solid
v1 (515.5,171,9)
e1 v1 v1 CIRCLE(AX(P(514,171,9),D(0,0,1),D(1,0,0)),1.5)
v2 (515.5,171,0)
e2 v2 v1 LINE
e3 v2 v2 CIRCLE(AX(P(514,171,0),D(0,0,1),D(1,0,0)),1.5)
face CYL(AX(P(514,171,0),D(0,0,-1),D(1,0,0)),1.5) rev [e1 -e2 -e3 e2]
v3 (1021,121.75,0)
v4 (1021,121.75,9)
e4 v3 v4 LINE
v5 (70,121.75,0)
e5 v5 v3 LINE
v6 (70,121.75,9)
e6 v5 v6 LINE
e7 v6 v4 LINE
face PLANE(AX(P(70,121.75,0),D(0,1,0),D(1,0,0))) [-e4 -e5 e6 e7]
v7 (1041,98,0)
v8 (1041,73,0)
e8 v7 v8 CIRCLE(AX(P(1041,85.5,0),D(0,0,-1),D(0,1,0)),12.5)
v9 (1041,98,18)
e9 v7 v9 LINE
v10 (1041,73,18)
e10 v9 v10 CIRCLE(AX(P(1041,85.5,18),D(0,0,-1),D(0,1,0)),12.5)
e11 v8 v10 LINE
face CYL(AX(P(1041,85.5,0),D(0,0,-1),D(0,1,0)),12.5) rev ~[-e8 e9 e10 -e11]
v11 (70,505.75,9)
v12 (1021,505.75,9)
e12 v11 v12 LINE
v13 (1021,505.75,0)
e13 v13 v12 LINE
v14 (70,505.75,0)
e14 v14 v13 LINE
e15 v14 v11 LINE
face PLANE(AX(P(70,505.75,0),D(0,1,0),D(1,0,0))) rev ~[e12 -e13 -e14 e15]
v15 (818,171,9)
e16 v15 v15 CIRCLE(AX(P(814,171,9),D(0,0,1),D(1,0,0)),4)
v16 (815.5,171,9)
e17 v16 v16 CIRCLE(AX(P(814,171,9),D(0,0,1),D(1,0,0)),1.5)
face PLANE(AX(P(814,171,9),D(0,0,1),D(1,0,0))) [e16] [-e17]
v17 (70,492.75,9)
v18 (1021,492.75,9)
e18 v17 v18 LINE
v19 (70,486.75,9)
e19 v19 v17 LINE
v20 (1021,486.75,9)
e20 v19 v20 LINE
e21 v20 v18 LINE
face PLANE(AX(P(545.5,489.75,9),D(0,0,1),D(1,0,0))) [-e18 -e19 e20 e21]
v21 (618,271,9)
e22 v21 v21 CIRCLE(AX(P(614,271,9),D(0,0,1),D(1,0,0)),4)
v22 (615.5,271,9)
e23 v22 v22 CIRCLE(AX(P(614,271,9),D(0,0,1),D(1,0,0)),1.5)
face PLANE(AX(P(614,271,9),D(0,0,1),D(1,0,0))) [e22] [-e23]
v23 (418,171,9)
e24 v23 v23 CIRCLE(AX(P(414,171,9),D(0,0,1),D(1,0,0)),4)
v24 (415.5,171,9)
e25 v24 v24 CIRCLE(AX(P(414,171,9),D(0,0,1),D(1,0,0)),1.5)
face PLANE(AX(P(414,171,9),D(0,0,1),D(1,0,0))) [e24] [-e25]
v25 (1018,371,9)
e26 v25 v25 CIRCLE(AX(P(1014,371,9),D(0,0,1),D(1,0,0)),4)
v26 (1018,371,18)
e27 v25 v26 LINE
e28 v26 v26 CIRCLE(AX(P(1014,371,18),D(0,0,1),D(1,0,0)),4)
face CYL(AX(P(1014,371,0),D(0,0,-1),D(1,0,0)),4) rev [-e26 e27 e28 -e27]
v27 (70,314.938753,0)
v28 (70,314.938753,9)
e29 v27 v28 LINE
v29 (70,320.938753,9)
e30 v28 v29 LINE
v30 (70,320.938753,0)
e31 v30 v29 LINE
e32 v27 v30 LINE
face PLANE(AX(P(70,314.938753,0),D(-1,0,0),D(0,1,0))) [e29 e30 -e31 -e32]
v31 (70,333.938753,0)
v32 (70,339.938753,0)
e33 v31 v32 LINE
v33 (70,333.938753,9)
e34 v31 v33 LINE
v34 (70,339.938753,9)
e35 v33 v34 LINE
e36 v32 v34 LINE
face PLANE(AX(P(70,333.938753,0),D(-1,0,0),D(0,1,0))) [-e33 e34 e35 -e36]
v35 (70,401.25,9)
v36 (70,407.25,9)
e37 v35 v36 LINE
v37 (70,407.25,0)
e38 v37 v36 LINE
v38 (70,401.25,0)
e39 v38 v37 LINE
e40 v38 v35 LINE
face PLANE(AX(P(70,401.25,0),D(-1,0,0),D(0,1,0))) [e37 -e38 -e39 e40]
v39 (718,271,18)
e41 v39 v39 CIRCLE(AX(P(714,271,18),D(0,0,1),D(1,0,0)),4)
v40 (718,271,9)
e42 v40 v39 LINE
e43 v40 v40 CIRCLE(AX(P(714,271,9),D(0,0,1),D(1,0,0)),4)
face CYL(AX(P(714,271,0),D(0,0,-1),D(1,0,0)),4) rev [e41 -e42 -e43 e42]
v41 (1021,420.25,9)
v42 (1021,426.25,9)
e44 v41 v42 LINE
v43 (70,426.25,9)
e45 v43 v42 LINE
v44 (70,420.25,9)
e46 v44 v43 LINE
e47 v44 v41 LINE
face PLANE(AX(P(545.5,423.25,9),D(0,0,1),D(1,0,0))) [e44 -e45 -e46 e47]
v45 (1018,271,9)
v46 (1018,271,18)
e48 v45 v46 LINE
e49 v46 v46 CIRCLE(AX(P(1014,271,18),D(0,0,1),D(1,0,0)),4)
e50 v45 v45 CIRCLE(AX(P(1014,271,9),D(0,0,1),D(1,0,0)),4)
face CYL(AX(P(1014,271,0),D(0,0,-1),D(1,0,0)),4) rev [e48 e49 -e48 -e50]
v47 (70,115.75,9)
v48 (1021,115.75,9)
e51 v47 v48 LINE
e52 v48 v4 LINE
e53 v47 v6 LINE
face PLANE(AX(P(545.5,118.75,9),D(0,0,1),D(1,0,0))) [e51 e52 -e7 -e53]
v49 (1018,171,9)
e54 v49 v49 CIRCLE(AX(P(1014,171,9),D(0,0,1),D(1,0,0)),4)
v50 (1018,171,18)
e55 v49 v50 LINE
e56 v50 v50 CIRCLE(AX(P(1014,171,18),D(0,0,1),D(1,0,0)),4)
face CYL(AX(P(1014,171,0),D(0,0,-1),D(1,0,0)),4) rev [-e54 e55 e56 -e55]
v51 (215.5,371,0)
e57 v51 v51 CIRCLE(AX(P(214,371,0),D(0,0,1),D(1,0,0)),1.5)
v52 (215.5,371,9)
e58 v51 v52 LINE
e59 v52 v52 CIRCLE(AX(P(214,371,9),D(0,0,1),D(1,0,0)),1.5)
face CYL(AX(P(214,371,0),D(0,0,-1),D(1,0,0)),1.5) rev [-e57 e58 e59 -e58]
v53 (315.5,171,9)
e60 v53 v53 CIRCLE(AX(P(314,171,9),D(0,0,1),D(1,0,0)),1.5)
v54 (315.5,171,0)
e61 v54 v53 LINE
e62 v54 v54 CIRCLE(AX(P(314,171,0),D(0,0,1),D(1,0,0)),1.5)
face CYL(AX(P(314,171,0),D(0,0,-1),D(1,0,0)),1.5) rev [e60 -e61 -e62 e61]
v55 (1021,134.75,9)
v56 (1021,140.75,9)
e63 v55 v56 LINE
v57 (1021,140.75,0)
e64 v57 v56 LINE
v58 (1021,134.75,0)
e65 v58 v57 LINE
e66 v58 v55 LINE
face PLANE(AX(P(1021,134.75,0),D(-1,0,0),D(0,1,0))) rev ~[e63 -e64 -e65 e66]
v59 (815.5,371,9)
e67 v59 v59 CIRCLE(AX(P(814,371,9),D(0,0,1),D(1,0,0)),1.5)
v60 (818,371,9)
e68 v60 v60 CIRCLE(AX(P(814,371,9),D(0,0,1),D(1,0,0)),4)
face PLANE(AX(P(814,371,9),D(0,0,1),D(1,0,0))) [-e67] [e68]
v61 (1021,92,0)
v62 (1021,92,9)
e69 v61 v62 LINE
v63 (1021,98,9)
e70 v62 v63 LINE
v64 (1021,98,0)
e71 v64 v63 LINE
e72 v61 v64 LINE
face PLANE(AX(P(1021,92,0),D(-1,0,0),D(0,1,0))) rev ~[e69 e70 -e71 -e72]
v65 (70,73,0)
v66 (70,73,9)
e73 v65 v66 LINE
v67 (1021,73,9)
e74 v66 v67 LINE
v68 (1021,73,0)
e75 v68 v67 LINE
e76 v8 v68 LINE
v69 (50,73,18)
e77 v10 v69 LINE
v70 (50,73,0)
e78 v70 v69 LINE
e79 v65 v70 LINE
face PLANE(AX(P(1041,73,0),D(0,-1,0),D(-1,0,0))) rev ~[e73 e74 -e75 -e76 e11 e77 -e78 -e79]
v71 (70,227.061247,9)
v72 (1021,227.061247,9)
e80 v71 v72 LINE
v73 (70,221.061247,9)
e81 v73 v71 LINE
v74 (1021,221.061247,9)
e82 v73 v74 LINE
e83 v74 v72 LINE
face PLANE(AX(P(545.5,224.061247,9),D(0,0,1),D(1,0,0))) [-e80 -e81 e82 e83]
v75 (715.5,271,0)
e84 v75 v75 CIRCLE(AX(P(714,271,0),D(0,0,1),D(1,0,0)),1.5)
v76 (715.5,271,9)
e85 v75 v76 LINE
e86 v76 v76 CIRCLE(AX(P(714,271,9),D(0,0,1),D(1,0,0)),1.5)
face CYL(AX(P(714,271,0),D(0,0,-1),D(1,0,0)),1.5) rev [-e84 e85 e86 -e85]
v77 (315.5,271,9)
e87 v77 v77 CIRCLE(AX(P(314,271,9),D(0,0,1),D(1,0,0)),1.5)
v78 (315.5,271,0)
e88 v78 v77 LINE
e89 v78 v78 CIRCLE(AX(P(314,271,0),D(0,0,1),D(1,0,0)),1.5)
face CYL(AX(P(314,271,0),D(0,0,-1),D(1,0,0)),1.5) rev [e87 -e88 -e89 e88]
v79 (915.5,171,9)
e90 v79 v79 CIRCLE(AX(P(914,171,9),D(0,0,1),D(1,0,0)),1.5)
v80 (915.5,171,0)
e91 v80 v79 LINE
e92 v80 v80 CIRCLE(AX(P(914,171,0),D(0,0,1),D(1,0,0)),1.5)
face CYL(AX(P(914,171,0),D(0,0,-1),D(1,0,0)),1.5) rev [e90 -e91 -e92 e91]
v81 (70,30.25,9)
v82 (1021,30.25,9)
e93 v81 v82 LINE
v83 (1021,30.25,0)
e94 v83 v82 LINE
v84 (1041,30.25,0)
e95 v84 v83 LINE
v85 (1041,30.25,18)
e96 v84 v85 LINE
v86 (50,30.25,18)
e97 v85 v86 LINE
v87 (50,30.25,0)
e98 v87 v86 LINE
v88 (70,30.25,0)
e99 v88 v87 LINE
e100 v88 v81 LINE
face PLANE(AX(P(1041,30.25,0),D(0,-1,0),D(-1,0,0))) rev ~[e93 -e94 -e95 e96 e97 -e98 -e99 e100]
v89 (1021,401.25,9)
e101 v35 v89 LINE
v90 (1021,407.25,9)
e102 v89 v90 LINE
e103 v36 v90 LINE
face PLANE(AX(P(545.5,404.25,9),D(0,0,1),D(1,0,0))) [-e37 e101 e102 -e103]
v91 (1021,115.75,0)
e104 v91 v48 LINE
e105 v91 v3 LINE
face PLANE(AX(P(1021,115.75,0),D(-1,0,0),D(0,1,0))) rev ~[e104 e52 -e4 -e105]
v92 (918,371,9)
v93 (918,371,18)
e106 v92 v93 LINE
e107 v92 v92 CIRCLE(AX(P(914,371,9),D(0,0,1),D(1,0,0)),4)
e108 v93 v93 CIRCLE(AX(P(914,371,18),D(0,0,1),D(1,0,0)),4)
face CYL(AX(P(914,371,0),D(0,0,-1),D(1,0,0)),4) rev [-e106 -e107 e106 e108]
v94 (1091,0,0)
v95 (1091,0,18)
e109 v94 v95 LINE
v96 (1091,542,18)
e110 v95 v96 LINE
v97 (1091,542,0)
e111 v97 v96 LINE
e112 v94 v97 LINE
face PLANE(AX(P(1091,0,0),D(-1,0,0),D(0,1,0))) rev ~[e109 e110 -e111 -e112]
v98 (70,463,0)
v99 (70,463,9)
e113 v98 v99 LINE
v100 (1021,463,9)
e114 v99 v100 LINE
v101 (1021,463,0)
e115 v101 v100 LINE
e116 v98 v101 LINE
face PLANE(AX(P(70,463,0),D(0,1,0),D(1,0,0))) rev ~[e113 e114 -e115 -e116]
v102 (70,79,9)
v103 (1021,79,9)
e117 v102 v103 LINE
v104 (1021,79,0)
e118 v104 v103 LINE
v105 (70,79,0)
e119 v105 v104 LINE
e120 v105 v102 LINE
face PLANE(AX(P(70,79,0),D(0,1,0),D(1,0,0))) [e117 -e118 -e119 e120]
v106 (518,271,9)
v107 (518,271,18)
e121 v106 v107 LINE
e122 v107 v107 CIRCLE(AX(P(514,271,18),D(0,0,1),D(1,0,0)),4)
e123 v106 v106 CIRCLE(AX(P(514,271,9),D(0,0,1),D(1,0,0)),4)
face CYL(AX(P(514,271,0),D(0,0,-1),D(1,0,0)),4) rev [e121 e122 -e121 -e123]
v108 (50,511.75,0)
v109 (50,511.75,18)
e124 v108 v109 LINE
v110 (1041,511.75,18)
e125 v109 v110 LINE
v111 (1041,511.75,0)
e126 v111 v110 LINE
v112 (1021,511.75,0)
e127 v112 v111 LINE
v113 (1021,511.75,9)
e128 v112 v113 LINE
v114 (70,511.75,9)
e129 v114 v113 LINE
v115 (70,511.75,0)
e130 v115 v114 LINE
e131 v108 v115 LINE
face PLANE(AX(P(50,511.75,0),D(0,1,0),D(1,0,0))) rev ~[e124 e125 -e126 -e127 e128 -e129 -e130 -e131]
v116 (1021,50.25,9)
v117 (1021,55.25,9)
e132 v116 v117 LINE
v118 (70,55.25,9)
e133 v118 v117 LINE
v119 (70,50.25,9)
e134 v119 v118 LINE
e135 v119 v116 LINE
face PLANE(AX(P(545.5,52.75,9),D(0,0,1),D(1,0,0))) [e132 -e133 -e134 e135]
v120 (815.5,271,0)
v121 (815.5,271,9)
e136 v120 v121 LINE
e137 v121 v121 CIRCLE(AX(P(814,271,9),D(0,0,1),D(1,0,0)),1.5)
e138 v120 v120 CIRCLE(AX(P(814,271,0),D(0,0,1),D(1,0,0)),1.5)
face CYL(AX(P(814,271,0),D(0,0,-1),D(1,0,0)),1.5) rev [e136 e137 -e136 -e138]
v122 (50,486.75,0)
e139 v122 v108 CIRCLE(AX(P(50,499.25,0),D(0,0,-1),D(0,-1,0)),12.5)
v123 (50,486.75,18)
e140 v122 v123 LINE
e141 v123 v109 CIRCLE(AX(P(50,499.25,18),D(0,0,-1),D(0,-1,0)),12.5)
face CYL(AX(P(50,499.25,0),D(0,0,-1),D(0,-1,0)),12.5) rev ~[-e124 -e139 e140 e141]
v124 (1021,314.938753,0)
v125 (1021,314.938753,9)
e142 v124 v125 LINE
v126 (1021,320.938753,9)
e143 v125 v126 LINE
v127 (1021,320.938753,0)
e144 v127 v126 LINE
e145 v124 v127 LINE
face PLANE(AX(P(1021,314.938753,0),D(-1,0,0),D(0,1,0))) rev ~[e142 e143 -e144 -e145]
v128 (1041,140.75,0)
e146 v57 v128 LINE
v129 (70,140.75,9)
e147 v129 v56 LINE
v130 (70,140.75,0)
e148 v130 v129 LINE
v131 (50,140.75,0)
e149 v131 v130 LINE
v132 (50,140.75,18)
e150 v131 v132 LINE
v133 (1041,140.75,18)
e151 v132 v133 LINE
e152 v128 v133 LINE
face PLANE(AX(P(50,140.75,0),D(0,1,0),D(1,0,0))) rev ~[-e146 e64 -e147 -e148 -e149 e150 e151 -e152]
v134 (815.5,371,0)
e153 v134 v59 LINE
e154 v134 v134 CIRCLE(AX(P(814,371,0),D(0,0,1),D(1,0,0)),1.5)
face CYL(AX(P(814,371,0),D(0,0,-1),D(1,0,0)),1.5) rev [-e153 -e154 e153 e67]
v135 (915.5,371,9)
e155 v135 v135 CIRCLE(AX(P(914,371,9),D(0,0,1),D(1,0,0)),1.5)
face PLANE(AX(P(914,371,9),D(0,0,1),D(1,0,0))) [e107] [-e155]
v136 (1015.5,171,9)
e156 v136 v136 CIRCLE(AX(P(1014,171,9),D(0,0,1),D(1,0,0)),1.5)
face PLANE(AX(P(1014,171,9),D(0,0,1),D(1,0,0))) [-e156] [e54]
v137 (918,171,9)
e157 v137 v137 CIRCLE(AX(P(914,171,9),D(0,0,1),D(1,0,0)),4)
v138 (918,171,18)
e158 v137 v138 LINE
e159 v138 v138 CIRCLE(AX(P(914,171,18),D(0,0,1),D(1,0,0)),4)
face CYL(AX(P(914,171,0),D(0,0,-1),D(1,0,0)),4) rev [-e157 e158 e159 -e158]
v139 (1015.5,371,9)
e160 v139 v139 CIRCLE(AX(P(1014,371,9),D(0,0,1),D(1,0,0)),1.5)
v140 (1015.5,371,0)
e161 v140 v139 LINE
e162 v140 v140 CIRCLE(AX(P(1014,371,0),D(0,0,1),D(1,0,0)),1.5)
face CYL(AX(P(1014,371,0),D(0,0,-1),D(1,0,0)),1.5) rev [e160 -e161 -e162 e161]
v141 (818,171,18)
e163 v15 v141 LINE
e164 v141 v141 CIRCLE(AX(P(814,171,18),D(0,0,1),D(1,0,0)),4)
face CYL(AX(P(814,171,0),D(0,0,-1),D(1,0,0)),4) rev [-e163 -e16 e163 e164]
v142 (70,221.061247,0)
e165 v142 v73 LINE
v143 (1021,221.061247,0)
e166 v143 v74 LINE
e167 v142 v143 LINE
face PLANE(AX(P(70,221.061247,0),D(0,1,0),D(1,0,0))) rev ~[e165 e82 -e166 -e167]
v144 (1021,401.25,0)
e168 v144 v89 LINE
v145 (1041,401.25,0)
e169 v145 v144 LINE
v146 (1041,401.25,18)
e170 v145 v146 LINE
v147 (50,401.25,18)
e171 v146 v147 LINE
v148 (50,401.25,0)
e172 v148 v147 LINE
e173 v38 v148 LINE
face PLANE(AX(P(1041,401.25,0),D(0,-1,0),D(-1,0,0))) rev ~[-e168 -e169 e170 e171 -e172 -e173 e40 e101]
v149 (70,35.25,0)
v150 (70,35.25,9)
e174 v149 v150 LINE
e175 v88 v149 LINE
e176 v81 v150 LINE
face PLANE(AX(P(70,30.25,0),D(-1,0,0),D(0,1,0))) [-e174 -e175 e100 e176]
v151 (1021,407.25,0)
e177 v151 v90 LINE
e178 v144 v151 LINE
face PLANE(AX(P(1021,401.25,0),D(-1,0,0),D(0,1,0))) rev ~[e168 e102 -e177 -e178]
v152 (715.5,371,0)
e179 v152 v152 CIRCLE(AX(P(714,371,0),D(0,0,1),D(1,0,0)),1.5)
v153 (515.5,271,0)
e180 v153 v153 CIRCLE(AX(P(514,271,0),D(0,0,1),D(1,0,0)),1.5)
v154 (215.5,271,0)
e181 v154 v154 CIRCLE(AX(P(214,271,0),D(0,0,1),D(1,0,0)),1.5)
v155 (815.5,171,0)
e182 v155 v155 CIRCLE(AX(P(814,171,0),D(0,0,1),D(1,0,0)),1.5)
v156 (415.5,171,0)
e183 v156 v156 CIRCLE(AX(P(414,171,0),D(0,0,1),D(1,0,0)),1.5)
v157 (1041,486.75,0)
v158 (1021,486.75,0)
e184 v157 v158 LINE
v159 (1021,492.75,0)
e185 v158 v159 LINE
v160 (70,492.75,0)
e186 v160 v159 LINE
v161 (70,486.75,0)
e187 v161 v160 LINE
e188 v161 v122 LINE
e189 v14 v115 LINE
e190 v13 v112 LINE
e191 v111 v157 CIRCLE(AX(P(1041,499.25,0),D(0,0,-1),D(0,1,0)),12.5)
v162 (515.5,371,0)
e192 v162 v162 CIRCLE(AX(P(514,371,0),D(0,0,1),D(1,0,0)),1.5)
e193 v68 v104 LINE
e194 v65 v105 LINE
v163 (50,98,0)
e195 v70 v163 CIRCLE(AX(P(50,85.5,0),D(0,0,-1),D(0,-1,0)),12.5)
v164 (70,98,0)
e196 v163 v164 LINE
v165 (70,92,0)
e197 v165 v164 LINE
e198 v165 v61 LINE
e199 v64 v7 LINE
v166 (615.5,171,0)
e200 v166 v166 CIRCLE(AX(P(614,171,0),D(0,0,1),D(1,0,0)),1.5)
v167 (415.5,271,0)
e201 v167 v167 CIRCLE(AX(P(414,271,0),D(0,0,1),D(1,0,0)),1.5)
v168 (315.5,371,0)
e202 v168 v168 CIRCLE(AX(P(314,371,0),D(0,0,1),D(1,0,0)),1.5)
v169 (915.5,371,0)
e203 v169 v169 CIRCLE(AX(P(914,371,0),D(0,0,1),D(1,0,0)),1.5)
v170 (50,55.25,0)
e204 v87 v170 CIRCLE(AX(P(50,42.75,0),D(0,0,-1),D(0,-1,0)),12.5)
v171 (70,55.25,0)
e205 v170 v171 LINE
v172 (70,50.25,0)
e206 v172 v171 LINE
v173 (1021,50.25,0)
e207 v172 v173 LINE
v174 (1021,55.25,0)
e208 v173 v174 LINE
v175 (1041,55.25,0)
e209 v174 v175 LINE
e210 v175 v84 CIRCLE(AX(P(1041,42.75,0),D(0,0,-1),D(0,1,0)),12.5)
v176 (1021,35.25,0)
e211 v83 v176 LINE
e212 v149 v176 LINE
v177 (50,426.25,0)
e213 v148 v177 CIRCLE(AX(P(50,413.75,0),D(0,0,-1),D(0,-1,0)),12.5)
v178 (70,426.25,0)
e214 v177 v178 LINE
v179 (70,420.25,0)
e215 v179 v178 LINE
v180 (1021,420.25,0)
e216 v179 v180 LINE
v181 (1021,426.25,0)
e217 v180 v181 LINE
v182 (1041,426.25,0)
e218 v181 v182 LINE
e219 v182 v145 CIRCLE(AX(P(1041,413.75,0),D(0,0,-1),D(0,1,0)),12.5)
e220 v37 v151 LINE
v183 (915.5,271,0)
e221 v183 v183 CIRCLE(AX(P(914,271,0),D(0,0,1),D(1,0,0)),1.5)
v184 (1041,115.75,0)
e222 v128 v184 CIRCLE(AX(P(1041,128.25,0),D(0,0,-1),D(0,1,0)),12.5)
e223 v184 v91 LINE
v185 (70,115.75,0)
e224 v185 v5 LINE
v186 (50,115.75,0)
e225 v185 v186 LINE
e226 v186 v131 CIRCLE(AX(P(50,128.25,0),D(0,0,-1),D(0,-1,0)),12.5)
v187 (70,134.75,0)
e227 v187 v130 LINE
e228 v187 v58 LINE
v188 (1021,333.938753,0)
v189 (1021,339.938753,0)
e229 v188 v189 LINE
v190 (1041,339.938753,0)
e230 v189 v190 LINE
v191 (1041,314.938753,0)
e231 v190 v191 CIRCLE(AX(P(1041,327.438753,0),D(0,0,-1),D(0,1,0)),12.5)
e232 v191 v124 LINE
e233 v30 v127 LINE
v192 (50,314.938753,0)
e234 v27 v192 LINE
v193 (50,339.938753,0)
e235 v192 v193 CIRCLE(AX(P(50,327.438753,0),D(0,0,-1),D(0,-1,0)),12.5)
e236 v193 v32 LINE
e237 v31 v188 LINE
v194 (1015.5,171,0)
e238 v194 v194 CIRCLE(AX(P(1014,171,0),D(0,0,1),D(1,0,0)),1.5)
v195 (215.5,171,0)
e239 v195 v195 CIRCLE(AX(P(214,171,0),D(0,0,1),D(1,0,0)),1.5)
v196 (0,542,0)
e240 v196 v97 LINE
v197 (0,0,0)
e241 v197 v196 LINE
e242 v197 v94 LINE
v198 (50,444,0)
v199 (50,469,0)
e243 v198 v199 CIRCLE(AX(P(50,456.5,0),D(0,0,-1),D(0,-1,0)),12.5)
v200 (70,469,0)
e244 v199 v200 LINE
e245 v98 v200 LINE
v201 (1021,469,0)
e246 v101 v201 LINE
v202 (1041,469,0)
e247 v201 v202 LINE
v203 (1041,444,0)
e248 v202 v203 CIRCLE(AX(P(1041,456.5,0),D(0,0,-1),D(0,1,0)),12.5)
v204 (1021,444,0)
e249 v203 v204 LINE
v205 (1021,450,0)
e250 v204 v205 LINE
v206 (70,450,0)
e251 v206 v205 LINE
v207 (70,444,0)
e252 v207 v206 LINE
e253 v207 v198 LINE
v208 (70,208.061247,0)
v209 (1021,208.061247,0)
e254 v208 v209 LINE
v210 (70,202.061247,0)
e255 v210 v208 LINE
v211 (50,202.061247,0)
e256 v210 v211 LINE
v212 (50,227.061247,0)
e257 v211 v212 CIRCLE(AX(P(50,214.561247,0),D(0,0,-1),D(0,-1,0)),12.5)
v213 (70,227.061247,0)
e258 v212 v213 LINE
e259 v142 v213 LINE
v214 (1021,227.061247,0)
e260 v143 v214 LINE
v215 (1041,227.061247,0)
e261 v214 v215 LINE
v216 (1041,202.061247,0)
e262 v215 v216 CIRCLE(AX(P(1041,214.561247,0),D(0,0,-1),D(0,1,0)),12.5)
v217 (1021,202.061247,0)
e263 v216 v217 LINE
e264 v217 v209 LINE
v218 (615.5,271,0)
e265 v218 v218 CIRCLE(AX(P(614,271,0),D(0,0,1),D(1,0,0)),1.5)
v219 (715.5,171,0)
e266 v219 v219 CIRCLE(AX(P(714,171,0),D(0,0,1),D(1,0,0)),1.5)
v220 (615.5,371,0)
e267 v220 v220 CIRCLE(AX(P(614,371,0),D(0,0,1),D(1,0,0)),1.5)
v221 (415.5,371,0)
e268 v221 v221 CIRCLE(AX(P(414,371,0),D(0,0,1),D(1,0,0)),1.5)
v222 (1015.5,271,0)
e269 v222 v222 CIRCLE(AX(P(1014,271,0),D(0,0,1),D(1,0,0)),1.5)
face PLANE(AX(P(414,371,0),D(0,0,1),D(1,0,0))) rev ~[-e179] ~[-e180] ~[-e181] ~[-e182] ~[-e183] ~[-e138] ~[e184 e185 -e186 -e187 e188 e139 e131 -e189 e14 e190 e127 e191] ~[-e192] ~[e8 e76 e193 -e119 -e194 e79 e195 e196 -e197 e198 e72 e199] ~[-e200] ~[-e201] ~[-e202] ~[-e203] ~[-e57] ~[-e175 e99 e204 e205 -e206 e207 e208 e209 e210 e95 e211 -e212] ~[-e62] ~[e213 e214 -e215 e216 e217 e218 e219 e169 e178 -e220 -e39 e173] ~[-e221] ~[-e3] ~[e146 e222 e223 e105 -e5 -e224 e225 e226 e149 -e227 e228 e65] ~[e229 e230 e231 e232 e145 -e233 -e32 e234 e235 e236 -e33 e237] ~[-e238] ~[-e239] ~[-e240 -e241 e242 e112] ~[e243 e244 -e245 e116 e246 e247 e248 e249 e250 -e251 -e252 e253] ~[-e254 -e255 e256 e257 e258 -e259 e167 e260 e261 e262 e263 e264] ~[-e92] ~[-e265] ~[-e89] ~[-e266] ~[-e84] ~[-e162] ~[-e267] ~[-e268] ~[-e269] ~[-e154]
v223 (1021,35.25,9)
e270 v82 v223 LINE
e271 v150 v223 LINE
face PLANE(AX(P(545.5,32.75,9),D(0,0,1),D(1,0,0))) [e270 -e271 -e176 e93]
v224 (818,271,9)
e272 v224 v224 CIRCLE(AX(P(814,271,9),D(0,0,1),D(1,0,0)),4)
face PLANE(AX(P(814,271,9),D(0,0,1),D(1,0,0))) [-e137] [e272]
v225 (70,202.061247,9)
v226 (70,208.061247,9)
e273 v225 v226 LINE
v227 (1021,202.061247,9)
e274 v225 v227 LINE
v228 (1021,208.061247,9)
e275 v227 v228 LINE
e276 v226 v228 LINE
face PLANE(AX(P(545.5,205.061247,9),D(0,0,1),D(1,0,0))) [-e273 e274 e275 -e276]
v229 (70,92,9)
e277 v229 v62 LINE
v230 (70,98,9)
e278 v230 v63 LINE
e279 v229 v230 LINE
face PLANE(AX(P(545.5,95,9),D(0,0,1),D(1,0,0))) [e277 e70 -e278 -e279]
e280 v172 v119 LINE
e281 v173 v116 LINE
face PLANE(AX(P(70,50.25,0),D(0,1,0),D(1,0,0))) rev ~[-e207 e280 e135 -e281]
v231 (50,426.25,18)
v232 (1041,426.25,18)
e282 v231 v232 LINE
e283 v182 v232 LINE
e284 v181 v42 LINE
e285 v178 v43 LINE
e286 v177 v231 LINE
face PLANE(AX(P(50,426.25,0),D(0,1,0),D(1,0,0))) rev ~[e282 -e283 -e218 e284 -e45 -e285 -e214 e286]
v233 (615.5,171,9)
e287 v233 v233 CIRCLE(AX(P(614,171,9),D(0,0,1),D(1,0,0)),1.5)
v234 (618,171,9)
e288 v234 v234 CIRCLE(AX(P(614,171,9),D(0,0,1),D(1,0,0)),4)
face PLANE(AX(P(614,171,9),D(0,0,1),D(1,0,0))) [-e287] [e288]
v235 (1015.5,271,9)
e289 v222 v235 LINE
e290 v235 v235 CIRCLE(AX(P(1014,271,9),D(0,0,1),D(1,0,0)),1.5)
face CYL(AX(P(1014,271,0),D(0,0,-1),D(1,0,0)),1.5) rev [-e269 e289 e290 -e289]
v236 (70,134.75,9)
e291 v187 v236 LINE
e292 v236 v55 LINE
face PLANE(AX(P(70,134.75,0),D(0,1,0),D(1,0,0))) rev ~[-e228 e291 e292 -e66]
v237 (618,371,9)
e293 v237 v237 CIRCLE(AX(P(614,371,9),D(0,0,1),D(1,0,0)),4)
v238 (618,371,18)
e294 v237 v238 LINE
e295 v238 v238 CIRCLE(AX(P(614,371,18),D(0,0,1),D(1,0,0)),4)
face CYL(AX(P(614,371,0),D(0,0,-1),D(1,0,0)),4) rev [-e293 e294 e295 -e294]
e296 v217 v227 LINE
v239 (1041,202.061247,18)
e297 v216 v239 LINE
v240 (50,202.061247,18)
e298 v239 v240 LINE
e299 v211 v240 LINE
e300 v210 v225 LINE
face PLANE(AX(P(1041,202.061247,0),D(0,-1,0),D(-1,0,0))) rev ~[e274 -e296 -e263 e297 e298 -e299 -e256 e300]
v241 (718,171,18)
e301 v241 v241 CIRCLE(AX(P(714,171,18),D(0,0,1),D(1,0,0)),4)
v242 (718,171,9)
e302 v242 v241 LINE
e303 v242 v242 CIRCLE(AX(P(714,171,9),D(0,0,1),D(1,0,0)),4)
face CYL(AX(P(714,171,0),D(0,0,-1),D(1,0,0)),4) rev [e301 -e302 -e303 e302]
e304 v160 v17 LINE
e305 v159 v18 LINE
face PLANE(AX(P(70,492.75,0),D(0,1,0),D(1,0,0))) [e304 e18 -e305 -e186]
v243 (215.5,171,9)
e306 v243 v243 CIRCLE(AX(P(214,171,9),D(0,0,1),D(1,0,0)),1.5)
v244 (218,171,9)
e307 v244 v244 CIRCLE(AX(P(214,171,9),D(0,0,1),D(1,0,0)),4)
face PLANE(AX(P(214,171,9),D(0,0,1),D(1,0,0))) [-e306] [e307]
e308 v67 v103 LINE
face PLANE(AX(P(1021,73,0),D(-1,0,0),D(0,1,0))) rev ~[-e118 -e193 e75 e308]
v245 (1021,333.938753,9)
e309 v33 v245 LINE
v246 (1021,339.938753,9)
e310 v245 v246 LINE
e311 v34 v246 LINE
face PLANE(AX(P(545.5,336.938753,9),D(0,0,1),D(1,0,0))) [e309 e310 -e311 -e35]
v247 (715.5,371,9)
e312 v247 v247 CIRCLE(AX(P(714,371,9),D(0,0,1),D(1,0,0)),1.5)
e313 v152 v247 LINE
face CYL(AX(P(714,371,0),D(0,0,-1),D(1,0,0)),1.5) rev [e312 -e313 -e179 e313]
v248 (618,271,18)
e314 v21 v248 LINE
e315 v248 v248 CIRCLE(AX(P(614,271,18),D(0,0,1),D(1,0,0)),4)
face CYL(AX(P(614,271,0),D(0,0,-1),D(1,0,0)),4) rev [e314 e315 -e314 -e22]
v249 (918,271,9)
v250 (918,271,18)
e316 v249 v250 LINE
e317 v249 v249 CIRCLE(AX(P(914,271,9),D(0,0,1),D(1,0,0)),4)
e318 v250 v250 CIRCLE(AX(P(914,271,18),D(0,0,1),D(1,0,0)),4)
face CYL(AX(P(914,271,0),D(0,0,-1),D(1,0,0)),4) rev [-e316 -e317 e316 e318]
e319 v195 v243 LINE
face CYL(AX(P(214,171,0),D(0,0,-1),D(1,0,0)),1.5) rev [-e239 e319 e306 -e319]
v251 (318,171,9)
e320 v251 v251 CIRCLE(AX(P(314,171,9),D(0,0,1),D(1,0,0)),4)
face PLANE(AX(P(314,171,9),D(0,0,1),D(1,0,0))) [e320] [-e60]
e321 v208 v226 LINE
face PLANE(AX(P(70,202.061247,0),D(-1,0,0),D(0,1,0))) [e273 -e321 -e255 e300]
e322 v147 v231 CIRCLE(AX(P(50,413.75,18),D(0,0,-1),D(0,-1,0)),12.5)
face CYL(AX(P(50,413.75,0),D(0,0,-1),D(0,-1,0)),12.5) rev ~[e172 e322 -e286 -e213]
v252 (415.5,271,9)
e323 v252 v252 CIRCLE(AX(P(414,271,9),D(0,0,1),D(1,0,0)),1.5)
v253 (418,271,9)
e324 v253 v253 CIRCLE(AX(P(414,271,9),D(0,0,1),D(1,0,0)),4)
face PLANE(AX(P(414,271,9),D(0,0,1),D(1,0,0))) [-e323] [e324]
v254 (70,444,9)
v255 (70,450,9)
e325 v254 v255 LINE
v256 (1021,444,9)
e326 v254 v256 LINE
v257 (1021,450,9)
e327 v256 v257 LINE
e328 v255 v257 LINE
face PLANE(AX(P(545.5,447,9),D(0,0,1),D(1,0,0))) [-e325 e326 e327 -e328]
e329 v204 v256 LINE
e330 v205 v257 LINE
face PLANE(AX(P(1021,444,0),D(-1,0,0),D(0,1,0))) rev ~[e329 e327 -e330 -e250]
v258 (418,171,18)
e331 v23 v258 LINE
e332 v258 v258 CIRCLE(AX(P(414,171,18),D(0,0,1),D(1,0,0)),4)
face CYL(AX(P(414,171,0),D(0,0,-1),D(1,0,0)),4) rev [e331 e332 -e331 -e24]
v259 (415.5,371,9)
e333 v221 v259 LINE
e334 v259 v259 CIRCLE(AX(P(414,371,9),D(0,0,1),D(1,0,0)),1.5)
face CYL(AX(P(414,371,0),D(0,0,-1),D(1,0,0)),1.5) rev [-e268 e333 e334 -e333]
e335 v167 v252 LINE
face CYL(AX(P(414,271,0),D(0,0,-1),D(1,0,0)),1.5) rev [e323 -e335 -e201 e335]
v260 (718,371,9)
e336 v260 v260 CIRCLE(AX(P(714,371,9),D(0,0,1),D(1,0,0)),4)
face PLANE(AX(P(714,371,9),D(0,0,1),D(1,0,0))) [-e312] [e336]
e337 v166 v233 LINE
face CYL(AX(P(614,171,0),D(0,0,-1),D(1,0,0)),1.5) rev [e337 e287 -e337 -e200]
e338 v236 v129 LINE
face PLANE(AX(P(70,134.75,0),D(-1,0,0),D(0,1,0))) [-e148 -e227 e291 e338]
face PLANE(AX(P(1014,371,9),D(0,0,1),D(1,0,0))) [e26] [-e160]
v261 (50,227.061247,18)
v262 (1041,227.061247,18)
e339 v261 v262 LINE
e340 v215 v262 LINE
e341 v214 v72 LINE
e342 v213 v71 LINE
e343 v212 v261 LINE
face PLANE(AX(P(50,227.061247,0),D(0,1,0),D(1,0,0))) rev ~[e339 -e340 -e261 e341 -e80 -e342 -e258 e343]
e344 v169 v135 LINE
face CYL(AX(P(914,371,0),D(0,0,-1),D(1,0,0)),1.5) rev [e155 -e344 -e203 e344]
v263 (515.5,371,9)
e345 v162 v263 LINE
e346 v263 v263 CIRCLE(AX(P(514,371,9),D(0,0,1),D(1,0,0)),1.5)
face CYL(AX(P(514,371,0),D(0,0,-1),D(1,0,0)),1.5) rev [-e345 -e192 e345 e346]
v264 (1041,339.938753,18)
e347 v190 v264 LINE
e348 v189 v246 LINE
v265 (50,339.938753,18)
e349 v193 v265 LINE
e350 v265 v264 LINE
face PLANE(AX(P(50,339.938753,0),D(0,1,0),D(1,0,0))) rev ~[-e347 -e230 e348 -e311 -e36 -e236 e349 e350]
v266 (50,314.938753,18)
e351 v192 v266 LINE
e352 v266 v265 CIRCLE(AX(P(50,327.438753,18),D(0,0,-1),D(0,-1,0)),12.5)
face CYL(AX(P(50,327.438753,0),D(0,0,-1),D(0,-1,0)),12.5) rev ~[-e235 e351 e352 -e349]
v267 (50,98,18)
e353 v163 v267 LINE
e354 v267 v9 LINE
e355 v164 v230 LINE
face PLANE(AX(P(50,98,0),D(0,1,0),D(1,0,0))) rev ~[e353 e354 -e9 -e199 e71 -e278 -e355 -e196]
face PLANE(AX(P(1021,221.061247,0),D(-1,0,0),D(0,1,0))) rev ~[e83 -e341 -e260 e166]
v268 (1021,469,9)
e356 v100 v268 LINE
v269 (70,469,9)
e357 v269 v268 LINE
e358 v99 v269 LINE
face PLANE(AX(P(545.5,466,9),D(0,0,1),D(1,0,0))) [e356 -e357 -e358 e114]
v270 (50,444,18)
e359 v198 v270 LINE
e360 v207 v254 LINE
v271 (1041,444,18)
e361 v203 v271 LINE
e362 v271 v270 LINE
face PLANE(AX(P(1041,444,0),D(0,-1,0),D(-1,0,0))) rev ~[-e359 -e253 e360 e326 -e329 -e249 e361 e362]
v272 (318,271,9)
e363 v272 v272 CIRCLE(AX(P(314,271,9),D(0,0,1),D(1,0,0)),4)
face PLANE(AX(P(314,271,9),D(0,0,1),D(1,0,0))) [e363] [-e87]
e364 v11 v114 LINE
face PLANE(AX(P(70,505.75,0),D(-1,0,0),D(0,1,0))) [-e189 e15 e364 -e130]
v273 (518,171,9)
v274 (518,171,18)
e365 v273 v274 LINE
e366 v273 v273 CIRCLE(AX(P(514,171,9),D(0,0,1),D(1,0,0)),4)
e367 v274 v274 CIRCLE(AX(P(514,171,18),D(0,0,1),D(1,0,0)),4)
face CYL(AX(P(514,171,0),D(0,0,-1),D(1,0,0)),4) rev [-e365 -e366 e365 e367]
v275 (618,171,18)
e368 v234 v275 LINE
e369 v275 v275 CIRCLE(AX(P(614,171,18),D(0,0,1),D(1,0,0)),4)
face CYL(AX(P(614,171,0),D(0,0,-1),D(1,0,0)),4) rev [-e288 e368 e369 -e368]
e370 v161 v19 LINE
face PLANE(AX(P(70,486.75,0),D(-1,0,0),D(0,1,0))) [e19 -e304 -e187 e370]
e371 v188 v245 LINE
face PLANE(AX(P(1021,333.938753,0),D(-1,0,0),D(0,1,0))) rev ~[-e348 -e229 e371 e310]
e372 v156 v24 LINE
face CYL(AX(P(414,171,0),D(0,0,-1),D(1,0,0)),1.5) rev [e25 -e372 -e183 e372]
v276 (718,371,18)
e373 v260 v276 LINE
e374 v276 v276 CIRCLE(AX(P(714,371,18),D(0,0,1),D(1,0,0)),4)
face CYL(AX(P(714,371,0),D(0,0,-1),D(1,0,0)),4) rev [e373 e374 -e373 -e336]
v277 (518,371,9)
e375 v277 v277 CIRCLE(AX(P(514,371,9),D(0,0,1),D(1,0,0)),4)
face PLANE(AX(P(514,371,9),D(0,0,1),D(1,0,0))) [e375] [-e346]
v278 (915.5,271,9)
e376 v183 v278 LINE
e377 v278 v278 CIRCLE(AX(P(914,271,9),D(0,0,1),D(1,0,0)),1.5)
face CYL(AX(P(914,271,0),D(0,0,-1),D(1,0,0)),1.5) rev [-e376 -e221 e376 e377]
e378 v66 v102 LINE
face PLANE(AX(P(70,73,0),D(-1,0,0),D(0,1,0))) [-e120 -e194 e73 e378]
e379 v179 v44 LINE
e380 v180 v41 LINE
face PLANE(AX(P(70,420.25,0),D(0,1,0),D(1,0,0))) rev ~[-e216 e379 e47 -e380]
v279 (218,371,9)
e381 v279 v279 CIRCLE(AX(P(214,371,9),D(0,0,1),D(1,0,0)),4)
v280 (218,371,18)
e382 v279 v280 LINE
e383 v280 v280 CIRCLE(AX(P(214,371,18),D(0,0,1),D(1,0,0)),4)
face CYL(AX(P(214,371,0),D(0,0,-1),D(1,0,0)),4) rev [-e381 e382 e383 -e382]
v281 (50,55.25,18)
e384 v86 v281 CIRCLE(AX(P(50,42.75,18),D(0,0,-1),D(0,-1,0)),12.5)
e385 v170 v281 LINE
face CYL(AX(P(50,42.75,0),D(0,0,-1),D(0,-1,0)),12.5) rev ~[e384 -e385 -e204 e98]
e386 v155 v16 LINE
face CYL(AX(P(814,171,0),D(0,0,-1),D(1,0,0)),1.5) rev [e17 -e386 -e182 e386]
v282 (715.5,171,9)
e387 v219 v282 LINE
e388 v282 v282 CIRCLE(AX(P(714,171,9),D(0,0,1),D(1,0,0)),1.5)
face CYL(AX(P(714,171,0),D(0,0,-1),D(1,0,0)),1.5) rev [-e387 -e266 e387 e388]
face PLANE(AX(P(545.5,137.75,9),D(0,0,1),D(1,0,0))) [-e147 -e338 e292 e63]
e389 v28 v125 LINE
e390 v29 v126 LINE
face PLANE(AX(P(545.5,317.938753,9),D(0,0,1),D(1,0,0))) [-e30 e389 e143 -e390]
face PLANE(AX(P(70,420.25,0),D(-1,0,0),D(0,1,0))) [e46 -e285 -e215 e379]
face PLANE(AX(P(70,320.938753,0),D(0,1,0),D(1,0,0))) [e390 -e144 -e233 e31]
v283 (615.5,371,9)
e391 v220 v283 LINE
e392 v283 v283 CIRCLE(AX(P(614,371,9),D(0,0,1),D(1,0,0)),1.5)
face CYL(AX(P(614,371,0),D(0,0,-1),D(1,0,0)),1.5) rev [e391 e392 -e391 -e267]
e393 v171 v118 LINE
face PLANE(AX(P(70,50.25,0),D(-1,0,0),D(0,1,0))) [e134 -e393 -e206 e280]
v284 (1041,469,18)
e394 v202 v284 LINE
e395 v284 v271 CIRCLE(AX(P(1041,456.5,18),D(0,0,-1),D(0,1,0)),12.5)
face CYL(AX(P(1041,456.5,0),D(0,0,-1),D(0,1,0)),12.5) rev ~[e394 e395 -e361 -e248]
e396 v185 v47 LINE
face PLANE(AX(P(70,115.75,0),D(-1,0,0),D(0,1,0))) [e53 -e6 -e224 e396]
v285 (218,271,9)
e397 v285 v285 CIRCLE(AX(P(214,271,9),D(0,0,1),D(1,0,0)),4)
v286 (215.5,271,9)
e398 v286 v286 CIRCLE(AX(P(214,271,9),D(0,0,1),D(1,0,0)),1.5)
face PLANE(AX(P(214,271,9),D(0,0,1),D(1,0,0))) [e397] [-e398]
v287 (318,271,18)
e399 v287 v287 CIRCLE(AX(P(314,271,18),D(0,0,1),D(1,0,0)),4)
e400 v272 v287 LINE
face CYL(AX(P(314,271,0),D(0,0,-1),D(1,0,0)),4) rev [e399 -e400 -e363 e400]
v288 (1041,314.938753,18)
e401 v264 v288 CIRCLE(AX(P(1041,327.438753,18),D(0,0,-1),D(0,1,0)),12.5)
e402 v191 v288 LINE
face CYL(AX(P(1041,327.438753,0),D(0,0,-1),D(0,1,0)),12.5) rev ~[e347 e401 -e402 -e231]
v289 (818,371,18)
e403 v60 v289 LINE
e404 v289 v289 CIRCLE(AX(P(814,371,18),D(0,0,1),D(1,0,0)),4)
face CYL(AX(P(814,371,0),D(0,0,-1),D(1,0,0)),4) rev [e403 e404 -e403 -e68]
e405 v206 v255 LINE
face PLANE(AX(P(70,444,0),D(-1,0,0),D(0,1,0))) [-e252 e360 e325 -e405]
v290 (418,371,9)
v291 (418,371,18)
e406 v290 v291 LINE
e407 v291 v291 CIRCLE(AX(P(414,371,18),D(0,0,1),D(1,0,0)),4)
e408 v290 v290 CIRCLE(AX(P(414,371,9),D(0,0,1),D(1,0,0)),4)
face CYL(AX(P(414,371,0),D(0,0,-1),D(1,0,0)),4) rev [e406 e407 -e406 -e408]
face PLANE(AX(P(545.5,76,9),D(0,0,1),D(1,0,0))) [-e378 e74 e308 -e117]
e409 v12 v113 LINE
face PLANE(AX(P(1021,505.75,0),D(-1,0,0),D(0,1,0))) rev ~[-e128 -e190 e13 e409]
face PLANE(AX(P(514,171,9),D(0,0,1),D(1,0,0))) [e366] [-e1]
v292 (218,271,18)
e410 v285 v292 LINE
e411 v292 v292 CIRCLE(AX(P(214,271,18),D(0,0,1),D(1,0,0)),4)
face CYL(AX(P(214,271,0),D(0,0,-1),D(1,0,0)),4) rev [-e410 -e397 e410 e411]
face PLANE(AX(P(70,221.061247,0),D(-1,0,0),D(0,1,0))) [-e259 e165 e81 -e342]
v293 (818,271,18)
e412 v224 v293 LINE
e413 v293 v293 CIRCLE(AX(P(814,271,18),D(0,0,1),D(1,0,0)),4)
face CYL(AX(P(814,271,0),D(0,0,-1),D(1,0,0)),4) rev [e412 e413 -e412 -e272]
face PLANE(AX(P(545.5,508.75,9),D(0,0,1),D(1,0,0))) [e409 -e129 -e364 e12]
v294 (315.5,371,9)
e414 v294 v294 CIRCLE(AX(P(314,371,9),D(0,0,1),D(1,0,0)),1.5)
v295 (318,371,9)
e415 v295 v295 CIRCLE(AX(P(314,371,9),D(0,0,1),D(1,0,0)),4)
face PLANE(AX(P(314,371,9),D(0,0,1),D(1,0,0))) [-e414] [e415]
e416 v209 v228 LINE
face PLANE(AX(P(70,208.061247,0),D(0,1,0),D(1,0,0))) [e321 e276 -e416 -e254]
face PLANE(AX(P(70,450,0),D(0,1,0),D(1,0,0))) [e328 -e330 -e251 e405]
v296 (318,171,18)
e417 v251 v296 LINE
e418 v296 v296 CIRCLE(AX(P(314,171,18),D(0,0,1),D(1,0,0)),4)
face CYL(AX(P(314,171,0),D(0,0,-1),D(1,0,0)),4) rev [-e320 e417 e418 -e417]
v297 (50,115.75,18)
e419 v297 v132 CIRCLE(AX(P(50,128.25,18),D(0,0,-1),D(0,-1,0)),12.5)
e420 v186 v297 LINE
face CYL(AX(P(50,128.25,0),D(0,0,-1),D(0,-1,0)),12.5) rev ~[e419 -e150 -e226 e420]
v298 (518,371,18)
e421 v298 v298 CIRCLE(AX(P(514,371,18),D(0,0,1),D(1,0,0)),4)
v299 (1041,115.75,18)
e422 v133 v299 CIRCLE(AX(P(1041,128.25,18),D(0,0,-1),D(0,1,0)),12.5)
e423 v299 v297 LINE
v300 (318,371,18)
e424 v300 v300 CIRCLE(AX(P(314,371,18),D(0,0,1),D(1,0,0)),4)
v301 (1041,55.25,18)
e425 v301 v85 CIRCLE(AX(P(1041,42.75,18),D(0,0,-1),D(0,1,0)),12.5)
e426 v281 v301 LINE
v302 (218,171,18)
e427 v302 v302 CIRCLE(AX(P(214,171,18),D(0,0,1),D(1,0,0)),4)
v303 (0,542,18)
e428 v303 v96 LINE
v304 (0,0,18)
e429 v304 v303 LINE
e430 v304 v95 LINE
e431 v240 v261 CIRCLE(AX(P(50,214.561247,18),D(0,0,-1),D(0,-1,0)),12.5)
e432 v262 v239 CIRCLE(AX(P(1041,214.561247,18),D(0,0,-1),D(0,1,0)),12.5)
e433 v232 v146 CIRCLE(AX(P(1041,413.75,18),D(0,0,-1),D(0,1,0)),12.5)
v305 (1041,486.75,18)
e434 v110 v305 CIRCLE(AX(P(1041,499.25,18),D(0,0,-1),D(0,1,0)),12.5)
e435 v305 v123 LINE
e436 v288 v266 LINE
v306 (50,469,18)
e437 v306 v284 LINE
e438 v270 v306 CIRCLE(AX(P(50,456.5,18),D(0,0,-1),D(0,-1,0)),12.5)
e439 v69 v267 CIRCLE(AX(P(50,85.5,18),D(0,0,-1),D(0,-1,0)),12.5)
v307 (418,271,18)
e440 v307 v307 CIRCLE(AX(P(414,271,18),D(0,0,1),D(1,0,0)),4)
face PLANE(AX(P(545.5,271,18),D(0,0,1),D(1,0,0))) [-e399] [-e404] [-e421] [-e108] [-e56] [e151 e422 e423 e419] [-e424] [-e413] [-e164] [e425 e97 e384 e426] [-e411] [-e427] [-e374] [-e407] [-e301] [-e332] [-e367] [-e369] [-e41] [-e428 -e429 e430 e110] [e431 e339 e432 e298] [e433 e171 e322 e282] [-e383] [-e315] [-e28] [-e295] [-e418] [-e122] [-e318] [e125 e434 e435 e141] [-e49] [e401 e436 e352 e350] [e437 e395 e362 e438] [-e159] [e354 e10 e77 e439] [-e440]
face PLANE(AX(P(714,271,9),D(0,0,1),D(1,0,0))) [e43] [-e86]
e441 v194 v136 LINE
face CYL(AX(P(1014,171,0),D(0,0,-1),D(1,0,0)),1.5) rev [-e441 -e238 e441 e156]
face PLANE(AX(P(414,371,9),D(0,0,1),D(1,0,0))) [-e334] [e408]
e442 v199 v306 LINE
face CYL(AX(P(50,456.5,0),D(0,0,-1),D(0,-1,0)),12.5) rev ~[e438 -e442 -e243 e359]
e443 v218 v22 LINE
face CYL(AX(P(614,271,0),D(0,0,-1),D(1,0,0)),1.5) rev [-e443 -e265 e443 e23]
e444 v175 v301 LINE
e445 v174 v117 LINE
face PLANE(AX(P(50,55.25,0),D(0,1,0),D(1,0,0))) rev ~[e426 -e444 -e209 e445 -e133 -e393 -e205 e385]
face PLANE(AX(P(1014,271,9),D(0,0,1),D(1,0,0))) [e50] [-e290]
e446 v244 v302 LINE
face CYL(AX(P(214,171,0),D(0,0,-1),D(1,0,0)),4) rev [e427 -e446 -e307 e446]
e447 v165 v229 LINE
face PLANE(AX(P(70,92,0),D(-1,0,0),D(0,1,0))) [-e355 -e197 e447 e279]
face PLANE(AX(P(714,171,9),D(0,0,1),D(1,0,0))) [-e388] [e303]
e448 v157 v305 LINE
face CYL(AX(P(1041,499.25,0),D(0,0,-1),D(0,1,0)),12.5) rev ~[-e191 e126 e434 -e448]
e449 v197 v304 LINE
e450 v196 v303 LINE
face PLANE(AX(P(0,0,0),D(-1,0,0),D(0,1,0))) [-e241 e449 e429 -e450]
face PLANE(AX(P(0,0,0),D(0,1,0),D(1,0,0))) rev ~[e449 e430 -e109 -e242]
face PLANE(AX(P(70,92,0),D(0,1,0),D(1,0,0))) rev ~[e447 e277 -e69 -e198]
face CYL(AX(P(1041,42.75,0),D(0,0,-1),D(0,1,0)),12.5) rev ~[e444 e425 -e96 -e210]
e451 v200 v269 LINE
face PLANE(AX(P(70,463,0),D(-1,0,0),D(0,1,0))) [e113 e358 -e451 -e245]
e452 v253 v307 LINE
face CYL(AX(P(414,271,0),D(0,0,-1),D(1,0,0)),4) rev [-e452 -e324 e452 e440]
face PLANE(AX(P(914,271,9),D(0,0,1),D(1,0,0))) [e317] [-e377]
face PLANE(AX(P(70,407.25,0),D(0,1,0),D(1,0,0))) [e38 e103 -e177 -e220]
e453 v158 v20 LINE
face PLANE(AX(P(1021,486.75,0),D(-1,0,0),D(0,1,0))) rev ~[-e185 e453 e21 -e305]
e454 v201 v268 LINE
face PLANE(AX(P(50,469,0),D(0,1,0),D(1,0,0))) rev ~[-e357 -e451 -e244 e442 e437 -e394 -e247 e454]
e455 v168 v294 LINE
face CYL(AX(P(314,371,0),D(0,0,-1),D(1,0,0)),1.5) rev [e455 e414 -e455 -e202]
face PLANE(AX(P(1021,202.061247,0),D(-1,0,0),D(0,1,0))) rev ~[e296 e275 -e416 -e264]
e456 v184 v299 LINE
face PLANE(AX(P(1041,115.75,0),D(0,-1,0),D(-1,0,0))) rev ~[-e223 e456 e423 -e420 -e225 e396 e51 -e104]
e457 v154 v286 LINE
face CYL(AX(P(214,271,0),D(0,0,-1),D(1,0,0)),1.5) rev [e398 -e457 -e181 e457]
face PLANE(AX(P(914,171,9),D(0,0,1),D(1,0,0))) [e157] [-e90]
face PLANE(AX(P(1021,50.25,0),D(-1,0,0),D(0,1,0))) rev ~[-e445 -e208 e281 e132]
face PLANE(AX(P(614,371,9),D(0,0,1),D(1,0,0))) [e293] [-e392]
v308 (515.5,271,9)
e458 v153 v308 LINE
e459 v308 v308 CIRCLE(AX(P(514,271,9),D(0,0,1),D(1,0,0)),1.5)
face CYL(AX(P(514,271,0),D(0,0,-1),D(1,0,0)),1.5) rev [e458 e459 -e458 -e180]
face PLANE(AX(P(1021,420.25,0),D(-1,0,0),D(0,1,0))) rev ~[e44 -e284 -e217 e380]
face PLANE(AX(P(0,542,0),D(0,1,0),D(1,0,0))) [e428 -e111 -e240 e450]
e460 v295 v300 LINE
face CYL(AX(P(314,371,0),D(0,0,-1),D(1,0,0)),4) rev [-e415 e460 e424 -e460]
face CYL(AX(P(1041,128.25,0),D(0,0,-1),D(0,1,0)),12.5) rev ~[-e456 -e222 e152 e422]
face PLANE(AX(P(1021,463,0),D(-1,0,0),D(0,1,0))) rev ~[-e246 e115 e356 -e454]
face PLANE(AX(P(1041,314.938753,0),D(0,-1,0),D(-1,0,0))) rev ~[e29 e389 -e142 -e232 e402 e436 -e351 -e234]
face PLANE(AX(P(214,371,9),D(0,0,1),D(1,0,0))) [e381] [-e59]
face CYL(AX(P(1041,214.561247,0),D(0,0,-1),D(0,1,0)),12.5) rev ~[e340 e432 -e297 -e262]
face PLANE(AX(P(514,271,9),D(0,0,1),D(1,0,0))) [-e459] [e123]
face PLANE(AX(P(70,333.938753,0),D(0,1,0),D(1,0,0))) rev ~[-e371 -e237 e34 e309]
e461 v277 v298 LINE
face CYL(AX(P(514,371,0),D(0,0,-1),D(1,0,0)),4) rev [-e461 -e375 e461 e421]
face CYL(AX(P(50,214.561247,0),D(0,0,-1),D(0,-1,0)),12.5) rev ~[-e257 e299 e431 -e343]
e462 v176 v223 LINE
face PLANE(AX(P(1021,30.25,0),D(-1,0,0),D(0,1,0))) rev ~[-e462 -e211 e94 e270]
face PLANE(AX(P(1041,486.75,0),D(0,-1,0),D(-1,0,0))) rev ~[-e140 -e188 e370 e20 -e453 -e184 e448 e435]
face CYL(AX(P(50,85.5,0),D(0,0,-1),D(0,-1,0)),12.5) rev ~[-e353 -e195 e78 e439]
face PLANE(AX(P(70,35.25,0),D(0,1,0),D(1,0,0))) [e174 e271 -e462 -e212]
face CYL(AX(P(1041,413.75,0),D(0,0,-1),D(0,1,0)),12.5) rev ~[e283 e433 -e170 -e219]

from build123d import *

# Parameters (mm, degrees)
F1_W     = 1091
F1_H     = 542
F1_R     = 4
F2_DEPTH = 18
F1_R_2   = 1.5
F1_W_2   = 951
F1_H_2   = 6
F1_H_3   = 5
F3_DEPTH = 9


with BuildPart() as f2:
    # F1 (on face) → F2 (new body)
    with BuildSketch(Plane.XY):
        with Locations((545.5, 271)):
            Rectangle(F1_W, F1_H)
        with Locations((214, 171)):
            Circle(F1_R, mode=Mode.SUBTRACT)
        with Locations((314, 171)):
            Circle(F1_R, mode=Mode.SUBTRACT)
        with Locations((414, 171)):
            Circle(F1_R, mode=Mode.SUBTRACT)
        with Locations((514, 171)):
            Circle(F1_R, mode=Mode.SUBTRACT)
        with BuildLine():
            Line((70, 30.25), (50, 30.25))
            ThreePointArc((50, 30.25), (37.5, 42.75), (50, 55.25))
            Line((50, 55.25), (70, 55.25))
            Line((70, 55.25), (1021, 55.25))
            Line((1021, 55.25), (1041, 55.25))
            ThreePointArc((1041, 55.25), (1053.5, 42.75), (1041, 30.25))
            Line((1041, 30.25), (1021, 30.25))
            Line((1021, 30.25), (70, 30.25))
        make_face(mode=Mode.SUBTRACT)
        with BuildLine():
            Line((70, 73), (50, 73))
            ThreePointArc((50, 73), (37.5, 85.5), (50, 98))
            Line((50, 98), (70, 98))
            Line((70, 98), (1021, 98))
            Line((1021, 98), (1041, 98))
            ThreePointArc((1041, 98), (1053.5, 85.5), (1041, 73))
            Line((1041, 73), (1021, 73))
            Line((1021, 73), (70, 73))
        make_face(mode=Mode.SUBTRACT)
        with BuildLine():
            Line((70, 115.75), (50, 115.75))
            ThreePointArc((50, 115.75), (37.5, 128.25), (50, 140.75))
            Line((50, 140.75), (70, 140.75))
            Line((70, 140.75), (1021, 140.75))
            Line((1021, 140.75), (1041, 140.75))
            ThreePointArc((1041, 140.75), (1053.5, 128.25), (1041, 115.75))
            Line((1041, 115.75), (1021, 115.75))
            Line((1021, 115.75), (70, 115.75))
        make_face(mode=Mode.SUBTRACT)
        with Locations((614, 171)):
            Circle(F1_R, mode=Mode.SUBTRACT)
        with Locations((714, 171)):
            Circle(F1_R, mode=Mode.SUBTRACT)
        with Locations((814, 171)):
            Circle(F1_R, mode=Mode.SUBTRACT)
        with BuildLine():
            Line((70, 202.061247), (50, 202.061247))
            ThreePointArc((50, 202.061247), (37.5, 214.561247), (50, 227.061247))
            Line((50, 227.061247), (70, 227.061247))
            Line((70, 227.061247), (1021, 227.061247))
            Line((1021, 227.061247), (1041, 227.061247))
            ThreePointArc((1041, 227.061247), (1053.5, 214.561247), (1041, 202.061247))
            Line((1041, 202.061247), (1021, 202.061247))
            Line((1021, 202.061247), (70, 202.061247))
        make_face(mode=Mode.SUBTRACT)
        with Locations((914, 171)):
            Circle(F1_R, mode=Mode.SUBTRACT)
        with Locations((1014, 171)):
            Circle(F1_R, mode=Mode.SUBTRACT)
        with Locations((214, 271)):
            Circle(F1_R, mode=Mode.SUBTRACT)
        with Locations((214, 371)):
            Circle(F1_R, mode=Mode.SUBTRACT)
        with Locations((314, 271)):
            Circle(F1_R, mode=Mode.SUBTRACT)
        with Locations((414, 271)):
            Circle(F1_R, mode=Mode.SUBTRACT)
        with Locations((514, 271)):
            Circle(F1_R, mode=Mode.SUBTRACT)
        with Locations((314, 371)):
            Circle(F1_R, mode=Mode.SUBTRACT)
        with Locations((414, 371)):
            Circle(F1_R, mode=Mode.SUBTRACT)
        with Locations((514, 371)):
            Circle(F1_R, mode=Mode.SUBTRACT)
        with Locations((614, 271)):
            Circle(F1_R, mode=Mode.SUBTRACT)
        with BuildLine():
            Line((70, 314.938753), (50, 314.938753))
            ThreePointArc((50, 314.938753), (37.5, 327.438753), (50, 339.938753))
            Line((50, 339.938753), (70, 339.938753))
            Line((70, 339.938753), (1021, 339.938753))
            Line((1021, 339.938753), (1041, 339.938753))
            ThreePointArc((1041, 339.938753), (1053.5, 327.438753), (1041, 314.938753))
            Line((1041, 314.938753), (1021, 314.938753))
            Line((1021, 314.938753), (70, 314.938753))
        make_face(mode=Mode.SUBTRACT)
        with Locations((714, 271)):
            Circle(F1_R, mode=Mode.SUBTRACT)
        with Locations((814, 271)):
            Circle(F1_R, mode=Mode.SUBTRACT)
        with Locations((614, 371)):
            Circle(F1_R, mode=Mode.SUBTRACT)
        with Locations((714, 371)):
            Circle(F1_R, mode=Mode.SUBTRACT)
        with Locations((814, 371)):
            Circle(F1_R, mode=Mode.SUBTRACT)
        with Locations((914, 271)):
            Circle(F1_R, mode=Mode.SUBTRACT)
        with Locations((1014, 271)):
            Circle(F1_R, mode=Mode.SUBTRACT)
        with Locations((914, 371)):
            Circle(F1_R, mode=Mode.SUBTRACT)
        with Locations((1014, 371)):
            Circle(F1_R, mode=Mode.SUBTRACT)
        with BuildLine():
            Line((70, 401.25), (50, 401.25))
            ThreePointArc((50, 401.25), (37.5, 413.75), (50, 426.25))
            Line((50, 426.25), (70, 426.25))
            Line((70, 426.25), (1021, 426.25))
            Line((1021, 426.25), (1041, 426.25))
            ThreePointArc((1041, 426.25), (1053.5, 413.75), (1041, 401.25))
            Line((1041, 401.25), (1021, 401.25))
            Line((1021, 401.25), (70, 401.25))
        make_face(mode=Mode.SUBTRACT)
        with BuildLine():
            Line((70, 444), (50, 444))
            ThreePointArc((50, 444), (37.5, 456.5), (50, 469))
            Line((50, 469), (70, 469))
            Line((70, 469), (1021, 469))
            Line((1021, 469), (1041, 469))
            ThreePointArc((1041, 469), (1053.5, 456.5), (1041, 444))
            Line((1041, 444), (1021, 444))
            Line((1021, 444), (70, 444))
        make_face(mode=Mode.SUBTRACT)
        with BuildLine():
            Line((70, 486.75), (50, 486.75))
            ThreePointArc((50, 486.75), (37.5, 499.25), (50, 511.75))
            Line((50, 511.75), (70, 511.75))
            Line((70, 511.75), (1021, 511.75))
            Line((1021, 511.75), (1041, 511.75))
            ThreePointArc((1041, 511.75), (1053.5, 499.25), (1041, 486.75))
            Line((1041, 486.75), (1021, 486.75))
            Line((1021, 486.75), (70, 486.75))
        make_face(mode=Mode.SUBTRACT)
    extrude(amount=F2_DEPTH)

    # F1 (on face) → F3 (join)
    with BuildSketch(Plane.XY):
        with Locations((414, 371)):
            Circle(F1_R)
        with Locations((414, 371)):
            Circle(F1_R_2, mode=Mode.SUBTRACT)
        with Locations((314, 371)):
            Circle(F1_R)
        with Locations((314, 371)):
            Circle(F1_R_2, mode=Mode.SUBTRACT)
        with Locations((214, 371)):
            Circle(F1_R)
        with Locations((214, 371)):
            Circle(F1_R_2, mode=Mode.SUBTRACT)
        with Locations((214, 271)):
            Circle(F1_R)
        with Locations((214, 271)):
            Circle(F1_R_2, mode=Mode.SUBTRACT)
        with Locations((314, 271)):
            Circle(F1_R)
        with Locations((314, 271)):
            Circle(F1_R_2, mode=Mode.SUBTRACT)
        with Locations((414, 271)):
            Circle(F1_R)
        with Locations((414, 271)):
            Circle(F1_R_2, mode=Mode.SUBTRACT)
        with Locations((514, 271)):
            Circle(F1_R)
        with Locations((514, 271)):
            Circle(F1_R_2, mode=Mode.SUBTRACT)
        with Locations((614, 271)):
            Circle(F1_R)
        with Locations((614, 271)):
            Circle(F1_R_2, mode=Mode.SUBTRACT)
        with Locations((714, 271)):
            Circle(F1_R)
        with Locations((714, 271)):
            Circle(F1_R_2, mode=Mode.SUBTRACT)
        with Locations((814, 271)):
            Circle(F1_R)
        with Locations((814, 271)):
            Circle(F1_R_2, mode=Mode.SUBTRACT)
        with Locations((914, 271)):
            Circle(F1_R)
        with Locations((914, 271)):
            Circle(F1_R_2, mode=Mode.SUBTRACT)
        with Locations((1014, 271)):
            Circle(F1_R)
        with Locations((1014, 271)):
            Circle(F1_R_2, mode=Mode.SUBTRACT)
        with Locations((1014, 171)):
            Circle(F1_R)
        with Locations((1014, 171)):
            Circle(F1_R_2, mode=Mode.SUBTRACT)
        with Locations((914, 171)):
            Circle(F1_R)
        with Locations((914, 171)):
            Circle(F1_R_2, mode=Mode.SUBTRACT)
        with Locations((814, 171)):
            Circle(F1_R)
        with Locations((814, 171)):
            Circle(F1_R_2, mode=Mode.SUBTRACT)
        with Locations((714, 171)):
            Circle(F1_R)
        with Locations((714, 171)):
            Circle(F1_R_2, mode=Mode.SUBTRACT)
        with Locations((614, 171)):
            Circle(F1_R)
        with Locations((614, 171)):
            Circle(F1_R_2, mode=Mode.SUBTRACT)
        with Locations((514, 171)):
            Circle(F1_R)
        with Locations((514, 171)):
            Circle(F1_R_2, mode=Mode.SUBTRACT)
        with Locations((414, 171)):
            Circle(F1_R)
        with Locations((414, 171)):
            Circle(F1_R_2, mode=Mode.SUBTRACT)
        with Locations((314, 171)):
            Circle(F1_R)
        with Locations((314, 171)):
            Circle(F1_R_2, mode=Mode.SUBTRACT)
        with Locations((214, 171)):
            Circle(F1_R)
        with Locations((214, 171)):
            Circle(F1_R_2, mode=Mode.SUBTRACT)
        with Locations((1014, 371)):
            Circle(F1_R)
        with Locations((1014, 371)):
            Circle(F1_R_2, mode=Mode.SUBTRACT)
        with Locations((914, 371)):
            Circle(F1_R)
        with Locations((914, 371)):
            Circle(F1_R_2, mode=Mode.SUBTRACT)
        with Locations((814, 371)):
            Circle(F1_R)
        with Locations((814, 371)):
            Circle(F1_R_2, mode=Mode.SUBTRACT)
        with Locations((714, 371)):
            Circle(F1_R)
        with Locations((714, 371)):
            Circle(F1_R_2, mode=Mode.SUBTRACT)
        with Locations((614, 371)):
            Circle(F1_R)
        with Locations((614, 371)):
            Circle(F1_R_2, mode=Mode.SUBTRACT)
        with Locations((514, 371)):
            Circle(F1_R)
        with Locations((514, 371)):
            Circle(F1_R_2, mode=Mode.SUBTRACT)
        with Locations((545.5, 508.75)):
            Rectangle(F1_W_2, F1_H_2)
        with Locations((545.5, 489.75)):
            Rectangle(F1_W_2, F1_H_2)
        with Locations((545.5, 466)):
            Rectangle(F1_W_2, F1_H_2)
        with Locations((545.5, 447)):
            Rectangle(F1_W_2, F1_H_2)
        with Locations((545.5, 423.25)):
            Rectangle(F1_W_2, F1_H_2)
        with Locations((545.5, 404.25)):
            Rectangle(F1_W_2, F1_H_2)
        with Locations((545.5, 336.938753)):
            Rectangle(F1_W_2, F1_H_2)
        with Locations((545.5, 317.938753)):
            Rectangle(F1_W_2, F1_H_2)
        with Locations((545.5, 224.061247)):
            Rectangle(F1_W_2, F1_H_2)
        with Locations((545.5, 205.061247)):
            Rectangle(F1_W_2, F1_H_2)
        with Locations((545.5, 137.75)):
            Rectangle(F1_W_2, F1_H_2)
        with Locations((545.5, 118.75)):
            Rectangle(F1_W_2, F1_H_2)
        with Locations((545.5, 95)):
            Rectangle(F1_W_2, F1_H_2)
        with Locations((545.5, 76)):
            Rectangle(F1_W_2, F1_H_2)
        with Locations((545.5, 52.75)):
            Rectangle(F1_W_2, F1_H_3)
        with Locations((545.5, 32.75)):
            Rectangle(F1_W_2, F1_H_3)
    extrude(amount=F3_DEPTH)


solid = f2.part
